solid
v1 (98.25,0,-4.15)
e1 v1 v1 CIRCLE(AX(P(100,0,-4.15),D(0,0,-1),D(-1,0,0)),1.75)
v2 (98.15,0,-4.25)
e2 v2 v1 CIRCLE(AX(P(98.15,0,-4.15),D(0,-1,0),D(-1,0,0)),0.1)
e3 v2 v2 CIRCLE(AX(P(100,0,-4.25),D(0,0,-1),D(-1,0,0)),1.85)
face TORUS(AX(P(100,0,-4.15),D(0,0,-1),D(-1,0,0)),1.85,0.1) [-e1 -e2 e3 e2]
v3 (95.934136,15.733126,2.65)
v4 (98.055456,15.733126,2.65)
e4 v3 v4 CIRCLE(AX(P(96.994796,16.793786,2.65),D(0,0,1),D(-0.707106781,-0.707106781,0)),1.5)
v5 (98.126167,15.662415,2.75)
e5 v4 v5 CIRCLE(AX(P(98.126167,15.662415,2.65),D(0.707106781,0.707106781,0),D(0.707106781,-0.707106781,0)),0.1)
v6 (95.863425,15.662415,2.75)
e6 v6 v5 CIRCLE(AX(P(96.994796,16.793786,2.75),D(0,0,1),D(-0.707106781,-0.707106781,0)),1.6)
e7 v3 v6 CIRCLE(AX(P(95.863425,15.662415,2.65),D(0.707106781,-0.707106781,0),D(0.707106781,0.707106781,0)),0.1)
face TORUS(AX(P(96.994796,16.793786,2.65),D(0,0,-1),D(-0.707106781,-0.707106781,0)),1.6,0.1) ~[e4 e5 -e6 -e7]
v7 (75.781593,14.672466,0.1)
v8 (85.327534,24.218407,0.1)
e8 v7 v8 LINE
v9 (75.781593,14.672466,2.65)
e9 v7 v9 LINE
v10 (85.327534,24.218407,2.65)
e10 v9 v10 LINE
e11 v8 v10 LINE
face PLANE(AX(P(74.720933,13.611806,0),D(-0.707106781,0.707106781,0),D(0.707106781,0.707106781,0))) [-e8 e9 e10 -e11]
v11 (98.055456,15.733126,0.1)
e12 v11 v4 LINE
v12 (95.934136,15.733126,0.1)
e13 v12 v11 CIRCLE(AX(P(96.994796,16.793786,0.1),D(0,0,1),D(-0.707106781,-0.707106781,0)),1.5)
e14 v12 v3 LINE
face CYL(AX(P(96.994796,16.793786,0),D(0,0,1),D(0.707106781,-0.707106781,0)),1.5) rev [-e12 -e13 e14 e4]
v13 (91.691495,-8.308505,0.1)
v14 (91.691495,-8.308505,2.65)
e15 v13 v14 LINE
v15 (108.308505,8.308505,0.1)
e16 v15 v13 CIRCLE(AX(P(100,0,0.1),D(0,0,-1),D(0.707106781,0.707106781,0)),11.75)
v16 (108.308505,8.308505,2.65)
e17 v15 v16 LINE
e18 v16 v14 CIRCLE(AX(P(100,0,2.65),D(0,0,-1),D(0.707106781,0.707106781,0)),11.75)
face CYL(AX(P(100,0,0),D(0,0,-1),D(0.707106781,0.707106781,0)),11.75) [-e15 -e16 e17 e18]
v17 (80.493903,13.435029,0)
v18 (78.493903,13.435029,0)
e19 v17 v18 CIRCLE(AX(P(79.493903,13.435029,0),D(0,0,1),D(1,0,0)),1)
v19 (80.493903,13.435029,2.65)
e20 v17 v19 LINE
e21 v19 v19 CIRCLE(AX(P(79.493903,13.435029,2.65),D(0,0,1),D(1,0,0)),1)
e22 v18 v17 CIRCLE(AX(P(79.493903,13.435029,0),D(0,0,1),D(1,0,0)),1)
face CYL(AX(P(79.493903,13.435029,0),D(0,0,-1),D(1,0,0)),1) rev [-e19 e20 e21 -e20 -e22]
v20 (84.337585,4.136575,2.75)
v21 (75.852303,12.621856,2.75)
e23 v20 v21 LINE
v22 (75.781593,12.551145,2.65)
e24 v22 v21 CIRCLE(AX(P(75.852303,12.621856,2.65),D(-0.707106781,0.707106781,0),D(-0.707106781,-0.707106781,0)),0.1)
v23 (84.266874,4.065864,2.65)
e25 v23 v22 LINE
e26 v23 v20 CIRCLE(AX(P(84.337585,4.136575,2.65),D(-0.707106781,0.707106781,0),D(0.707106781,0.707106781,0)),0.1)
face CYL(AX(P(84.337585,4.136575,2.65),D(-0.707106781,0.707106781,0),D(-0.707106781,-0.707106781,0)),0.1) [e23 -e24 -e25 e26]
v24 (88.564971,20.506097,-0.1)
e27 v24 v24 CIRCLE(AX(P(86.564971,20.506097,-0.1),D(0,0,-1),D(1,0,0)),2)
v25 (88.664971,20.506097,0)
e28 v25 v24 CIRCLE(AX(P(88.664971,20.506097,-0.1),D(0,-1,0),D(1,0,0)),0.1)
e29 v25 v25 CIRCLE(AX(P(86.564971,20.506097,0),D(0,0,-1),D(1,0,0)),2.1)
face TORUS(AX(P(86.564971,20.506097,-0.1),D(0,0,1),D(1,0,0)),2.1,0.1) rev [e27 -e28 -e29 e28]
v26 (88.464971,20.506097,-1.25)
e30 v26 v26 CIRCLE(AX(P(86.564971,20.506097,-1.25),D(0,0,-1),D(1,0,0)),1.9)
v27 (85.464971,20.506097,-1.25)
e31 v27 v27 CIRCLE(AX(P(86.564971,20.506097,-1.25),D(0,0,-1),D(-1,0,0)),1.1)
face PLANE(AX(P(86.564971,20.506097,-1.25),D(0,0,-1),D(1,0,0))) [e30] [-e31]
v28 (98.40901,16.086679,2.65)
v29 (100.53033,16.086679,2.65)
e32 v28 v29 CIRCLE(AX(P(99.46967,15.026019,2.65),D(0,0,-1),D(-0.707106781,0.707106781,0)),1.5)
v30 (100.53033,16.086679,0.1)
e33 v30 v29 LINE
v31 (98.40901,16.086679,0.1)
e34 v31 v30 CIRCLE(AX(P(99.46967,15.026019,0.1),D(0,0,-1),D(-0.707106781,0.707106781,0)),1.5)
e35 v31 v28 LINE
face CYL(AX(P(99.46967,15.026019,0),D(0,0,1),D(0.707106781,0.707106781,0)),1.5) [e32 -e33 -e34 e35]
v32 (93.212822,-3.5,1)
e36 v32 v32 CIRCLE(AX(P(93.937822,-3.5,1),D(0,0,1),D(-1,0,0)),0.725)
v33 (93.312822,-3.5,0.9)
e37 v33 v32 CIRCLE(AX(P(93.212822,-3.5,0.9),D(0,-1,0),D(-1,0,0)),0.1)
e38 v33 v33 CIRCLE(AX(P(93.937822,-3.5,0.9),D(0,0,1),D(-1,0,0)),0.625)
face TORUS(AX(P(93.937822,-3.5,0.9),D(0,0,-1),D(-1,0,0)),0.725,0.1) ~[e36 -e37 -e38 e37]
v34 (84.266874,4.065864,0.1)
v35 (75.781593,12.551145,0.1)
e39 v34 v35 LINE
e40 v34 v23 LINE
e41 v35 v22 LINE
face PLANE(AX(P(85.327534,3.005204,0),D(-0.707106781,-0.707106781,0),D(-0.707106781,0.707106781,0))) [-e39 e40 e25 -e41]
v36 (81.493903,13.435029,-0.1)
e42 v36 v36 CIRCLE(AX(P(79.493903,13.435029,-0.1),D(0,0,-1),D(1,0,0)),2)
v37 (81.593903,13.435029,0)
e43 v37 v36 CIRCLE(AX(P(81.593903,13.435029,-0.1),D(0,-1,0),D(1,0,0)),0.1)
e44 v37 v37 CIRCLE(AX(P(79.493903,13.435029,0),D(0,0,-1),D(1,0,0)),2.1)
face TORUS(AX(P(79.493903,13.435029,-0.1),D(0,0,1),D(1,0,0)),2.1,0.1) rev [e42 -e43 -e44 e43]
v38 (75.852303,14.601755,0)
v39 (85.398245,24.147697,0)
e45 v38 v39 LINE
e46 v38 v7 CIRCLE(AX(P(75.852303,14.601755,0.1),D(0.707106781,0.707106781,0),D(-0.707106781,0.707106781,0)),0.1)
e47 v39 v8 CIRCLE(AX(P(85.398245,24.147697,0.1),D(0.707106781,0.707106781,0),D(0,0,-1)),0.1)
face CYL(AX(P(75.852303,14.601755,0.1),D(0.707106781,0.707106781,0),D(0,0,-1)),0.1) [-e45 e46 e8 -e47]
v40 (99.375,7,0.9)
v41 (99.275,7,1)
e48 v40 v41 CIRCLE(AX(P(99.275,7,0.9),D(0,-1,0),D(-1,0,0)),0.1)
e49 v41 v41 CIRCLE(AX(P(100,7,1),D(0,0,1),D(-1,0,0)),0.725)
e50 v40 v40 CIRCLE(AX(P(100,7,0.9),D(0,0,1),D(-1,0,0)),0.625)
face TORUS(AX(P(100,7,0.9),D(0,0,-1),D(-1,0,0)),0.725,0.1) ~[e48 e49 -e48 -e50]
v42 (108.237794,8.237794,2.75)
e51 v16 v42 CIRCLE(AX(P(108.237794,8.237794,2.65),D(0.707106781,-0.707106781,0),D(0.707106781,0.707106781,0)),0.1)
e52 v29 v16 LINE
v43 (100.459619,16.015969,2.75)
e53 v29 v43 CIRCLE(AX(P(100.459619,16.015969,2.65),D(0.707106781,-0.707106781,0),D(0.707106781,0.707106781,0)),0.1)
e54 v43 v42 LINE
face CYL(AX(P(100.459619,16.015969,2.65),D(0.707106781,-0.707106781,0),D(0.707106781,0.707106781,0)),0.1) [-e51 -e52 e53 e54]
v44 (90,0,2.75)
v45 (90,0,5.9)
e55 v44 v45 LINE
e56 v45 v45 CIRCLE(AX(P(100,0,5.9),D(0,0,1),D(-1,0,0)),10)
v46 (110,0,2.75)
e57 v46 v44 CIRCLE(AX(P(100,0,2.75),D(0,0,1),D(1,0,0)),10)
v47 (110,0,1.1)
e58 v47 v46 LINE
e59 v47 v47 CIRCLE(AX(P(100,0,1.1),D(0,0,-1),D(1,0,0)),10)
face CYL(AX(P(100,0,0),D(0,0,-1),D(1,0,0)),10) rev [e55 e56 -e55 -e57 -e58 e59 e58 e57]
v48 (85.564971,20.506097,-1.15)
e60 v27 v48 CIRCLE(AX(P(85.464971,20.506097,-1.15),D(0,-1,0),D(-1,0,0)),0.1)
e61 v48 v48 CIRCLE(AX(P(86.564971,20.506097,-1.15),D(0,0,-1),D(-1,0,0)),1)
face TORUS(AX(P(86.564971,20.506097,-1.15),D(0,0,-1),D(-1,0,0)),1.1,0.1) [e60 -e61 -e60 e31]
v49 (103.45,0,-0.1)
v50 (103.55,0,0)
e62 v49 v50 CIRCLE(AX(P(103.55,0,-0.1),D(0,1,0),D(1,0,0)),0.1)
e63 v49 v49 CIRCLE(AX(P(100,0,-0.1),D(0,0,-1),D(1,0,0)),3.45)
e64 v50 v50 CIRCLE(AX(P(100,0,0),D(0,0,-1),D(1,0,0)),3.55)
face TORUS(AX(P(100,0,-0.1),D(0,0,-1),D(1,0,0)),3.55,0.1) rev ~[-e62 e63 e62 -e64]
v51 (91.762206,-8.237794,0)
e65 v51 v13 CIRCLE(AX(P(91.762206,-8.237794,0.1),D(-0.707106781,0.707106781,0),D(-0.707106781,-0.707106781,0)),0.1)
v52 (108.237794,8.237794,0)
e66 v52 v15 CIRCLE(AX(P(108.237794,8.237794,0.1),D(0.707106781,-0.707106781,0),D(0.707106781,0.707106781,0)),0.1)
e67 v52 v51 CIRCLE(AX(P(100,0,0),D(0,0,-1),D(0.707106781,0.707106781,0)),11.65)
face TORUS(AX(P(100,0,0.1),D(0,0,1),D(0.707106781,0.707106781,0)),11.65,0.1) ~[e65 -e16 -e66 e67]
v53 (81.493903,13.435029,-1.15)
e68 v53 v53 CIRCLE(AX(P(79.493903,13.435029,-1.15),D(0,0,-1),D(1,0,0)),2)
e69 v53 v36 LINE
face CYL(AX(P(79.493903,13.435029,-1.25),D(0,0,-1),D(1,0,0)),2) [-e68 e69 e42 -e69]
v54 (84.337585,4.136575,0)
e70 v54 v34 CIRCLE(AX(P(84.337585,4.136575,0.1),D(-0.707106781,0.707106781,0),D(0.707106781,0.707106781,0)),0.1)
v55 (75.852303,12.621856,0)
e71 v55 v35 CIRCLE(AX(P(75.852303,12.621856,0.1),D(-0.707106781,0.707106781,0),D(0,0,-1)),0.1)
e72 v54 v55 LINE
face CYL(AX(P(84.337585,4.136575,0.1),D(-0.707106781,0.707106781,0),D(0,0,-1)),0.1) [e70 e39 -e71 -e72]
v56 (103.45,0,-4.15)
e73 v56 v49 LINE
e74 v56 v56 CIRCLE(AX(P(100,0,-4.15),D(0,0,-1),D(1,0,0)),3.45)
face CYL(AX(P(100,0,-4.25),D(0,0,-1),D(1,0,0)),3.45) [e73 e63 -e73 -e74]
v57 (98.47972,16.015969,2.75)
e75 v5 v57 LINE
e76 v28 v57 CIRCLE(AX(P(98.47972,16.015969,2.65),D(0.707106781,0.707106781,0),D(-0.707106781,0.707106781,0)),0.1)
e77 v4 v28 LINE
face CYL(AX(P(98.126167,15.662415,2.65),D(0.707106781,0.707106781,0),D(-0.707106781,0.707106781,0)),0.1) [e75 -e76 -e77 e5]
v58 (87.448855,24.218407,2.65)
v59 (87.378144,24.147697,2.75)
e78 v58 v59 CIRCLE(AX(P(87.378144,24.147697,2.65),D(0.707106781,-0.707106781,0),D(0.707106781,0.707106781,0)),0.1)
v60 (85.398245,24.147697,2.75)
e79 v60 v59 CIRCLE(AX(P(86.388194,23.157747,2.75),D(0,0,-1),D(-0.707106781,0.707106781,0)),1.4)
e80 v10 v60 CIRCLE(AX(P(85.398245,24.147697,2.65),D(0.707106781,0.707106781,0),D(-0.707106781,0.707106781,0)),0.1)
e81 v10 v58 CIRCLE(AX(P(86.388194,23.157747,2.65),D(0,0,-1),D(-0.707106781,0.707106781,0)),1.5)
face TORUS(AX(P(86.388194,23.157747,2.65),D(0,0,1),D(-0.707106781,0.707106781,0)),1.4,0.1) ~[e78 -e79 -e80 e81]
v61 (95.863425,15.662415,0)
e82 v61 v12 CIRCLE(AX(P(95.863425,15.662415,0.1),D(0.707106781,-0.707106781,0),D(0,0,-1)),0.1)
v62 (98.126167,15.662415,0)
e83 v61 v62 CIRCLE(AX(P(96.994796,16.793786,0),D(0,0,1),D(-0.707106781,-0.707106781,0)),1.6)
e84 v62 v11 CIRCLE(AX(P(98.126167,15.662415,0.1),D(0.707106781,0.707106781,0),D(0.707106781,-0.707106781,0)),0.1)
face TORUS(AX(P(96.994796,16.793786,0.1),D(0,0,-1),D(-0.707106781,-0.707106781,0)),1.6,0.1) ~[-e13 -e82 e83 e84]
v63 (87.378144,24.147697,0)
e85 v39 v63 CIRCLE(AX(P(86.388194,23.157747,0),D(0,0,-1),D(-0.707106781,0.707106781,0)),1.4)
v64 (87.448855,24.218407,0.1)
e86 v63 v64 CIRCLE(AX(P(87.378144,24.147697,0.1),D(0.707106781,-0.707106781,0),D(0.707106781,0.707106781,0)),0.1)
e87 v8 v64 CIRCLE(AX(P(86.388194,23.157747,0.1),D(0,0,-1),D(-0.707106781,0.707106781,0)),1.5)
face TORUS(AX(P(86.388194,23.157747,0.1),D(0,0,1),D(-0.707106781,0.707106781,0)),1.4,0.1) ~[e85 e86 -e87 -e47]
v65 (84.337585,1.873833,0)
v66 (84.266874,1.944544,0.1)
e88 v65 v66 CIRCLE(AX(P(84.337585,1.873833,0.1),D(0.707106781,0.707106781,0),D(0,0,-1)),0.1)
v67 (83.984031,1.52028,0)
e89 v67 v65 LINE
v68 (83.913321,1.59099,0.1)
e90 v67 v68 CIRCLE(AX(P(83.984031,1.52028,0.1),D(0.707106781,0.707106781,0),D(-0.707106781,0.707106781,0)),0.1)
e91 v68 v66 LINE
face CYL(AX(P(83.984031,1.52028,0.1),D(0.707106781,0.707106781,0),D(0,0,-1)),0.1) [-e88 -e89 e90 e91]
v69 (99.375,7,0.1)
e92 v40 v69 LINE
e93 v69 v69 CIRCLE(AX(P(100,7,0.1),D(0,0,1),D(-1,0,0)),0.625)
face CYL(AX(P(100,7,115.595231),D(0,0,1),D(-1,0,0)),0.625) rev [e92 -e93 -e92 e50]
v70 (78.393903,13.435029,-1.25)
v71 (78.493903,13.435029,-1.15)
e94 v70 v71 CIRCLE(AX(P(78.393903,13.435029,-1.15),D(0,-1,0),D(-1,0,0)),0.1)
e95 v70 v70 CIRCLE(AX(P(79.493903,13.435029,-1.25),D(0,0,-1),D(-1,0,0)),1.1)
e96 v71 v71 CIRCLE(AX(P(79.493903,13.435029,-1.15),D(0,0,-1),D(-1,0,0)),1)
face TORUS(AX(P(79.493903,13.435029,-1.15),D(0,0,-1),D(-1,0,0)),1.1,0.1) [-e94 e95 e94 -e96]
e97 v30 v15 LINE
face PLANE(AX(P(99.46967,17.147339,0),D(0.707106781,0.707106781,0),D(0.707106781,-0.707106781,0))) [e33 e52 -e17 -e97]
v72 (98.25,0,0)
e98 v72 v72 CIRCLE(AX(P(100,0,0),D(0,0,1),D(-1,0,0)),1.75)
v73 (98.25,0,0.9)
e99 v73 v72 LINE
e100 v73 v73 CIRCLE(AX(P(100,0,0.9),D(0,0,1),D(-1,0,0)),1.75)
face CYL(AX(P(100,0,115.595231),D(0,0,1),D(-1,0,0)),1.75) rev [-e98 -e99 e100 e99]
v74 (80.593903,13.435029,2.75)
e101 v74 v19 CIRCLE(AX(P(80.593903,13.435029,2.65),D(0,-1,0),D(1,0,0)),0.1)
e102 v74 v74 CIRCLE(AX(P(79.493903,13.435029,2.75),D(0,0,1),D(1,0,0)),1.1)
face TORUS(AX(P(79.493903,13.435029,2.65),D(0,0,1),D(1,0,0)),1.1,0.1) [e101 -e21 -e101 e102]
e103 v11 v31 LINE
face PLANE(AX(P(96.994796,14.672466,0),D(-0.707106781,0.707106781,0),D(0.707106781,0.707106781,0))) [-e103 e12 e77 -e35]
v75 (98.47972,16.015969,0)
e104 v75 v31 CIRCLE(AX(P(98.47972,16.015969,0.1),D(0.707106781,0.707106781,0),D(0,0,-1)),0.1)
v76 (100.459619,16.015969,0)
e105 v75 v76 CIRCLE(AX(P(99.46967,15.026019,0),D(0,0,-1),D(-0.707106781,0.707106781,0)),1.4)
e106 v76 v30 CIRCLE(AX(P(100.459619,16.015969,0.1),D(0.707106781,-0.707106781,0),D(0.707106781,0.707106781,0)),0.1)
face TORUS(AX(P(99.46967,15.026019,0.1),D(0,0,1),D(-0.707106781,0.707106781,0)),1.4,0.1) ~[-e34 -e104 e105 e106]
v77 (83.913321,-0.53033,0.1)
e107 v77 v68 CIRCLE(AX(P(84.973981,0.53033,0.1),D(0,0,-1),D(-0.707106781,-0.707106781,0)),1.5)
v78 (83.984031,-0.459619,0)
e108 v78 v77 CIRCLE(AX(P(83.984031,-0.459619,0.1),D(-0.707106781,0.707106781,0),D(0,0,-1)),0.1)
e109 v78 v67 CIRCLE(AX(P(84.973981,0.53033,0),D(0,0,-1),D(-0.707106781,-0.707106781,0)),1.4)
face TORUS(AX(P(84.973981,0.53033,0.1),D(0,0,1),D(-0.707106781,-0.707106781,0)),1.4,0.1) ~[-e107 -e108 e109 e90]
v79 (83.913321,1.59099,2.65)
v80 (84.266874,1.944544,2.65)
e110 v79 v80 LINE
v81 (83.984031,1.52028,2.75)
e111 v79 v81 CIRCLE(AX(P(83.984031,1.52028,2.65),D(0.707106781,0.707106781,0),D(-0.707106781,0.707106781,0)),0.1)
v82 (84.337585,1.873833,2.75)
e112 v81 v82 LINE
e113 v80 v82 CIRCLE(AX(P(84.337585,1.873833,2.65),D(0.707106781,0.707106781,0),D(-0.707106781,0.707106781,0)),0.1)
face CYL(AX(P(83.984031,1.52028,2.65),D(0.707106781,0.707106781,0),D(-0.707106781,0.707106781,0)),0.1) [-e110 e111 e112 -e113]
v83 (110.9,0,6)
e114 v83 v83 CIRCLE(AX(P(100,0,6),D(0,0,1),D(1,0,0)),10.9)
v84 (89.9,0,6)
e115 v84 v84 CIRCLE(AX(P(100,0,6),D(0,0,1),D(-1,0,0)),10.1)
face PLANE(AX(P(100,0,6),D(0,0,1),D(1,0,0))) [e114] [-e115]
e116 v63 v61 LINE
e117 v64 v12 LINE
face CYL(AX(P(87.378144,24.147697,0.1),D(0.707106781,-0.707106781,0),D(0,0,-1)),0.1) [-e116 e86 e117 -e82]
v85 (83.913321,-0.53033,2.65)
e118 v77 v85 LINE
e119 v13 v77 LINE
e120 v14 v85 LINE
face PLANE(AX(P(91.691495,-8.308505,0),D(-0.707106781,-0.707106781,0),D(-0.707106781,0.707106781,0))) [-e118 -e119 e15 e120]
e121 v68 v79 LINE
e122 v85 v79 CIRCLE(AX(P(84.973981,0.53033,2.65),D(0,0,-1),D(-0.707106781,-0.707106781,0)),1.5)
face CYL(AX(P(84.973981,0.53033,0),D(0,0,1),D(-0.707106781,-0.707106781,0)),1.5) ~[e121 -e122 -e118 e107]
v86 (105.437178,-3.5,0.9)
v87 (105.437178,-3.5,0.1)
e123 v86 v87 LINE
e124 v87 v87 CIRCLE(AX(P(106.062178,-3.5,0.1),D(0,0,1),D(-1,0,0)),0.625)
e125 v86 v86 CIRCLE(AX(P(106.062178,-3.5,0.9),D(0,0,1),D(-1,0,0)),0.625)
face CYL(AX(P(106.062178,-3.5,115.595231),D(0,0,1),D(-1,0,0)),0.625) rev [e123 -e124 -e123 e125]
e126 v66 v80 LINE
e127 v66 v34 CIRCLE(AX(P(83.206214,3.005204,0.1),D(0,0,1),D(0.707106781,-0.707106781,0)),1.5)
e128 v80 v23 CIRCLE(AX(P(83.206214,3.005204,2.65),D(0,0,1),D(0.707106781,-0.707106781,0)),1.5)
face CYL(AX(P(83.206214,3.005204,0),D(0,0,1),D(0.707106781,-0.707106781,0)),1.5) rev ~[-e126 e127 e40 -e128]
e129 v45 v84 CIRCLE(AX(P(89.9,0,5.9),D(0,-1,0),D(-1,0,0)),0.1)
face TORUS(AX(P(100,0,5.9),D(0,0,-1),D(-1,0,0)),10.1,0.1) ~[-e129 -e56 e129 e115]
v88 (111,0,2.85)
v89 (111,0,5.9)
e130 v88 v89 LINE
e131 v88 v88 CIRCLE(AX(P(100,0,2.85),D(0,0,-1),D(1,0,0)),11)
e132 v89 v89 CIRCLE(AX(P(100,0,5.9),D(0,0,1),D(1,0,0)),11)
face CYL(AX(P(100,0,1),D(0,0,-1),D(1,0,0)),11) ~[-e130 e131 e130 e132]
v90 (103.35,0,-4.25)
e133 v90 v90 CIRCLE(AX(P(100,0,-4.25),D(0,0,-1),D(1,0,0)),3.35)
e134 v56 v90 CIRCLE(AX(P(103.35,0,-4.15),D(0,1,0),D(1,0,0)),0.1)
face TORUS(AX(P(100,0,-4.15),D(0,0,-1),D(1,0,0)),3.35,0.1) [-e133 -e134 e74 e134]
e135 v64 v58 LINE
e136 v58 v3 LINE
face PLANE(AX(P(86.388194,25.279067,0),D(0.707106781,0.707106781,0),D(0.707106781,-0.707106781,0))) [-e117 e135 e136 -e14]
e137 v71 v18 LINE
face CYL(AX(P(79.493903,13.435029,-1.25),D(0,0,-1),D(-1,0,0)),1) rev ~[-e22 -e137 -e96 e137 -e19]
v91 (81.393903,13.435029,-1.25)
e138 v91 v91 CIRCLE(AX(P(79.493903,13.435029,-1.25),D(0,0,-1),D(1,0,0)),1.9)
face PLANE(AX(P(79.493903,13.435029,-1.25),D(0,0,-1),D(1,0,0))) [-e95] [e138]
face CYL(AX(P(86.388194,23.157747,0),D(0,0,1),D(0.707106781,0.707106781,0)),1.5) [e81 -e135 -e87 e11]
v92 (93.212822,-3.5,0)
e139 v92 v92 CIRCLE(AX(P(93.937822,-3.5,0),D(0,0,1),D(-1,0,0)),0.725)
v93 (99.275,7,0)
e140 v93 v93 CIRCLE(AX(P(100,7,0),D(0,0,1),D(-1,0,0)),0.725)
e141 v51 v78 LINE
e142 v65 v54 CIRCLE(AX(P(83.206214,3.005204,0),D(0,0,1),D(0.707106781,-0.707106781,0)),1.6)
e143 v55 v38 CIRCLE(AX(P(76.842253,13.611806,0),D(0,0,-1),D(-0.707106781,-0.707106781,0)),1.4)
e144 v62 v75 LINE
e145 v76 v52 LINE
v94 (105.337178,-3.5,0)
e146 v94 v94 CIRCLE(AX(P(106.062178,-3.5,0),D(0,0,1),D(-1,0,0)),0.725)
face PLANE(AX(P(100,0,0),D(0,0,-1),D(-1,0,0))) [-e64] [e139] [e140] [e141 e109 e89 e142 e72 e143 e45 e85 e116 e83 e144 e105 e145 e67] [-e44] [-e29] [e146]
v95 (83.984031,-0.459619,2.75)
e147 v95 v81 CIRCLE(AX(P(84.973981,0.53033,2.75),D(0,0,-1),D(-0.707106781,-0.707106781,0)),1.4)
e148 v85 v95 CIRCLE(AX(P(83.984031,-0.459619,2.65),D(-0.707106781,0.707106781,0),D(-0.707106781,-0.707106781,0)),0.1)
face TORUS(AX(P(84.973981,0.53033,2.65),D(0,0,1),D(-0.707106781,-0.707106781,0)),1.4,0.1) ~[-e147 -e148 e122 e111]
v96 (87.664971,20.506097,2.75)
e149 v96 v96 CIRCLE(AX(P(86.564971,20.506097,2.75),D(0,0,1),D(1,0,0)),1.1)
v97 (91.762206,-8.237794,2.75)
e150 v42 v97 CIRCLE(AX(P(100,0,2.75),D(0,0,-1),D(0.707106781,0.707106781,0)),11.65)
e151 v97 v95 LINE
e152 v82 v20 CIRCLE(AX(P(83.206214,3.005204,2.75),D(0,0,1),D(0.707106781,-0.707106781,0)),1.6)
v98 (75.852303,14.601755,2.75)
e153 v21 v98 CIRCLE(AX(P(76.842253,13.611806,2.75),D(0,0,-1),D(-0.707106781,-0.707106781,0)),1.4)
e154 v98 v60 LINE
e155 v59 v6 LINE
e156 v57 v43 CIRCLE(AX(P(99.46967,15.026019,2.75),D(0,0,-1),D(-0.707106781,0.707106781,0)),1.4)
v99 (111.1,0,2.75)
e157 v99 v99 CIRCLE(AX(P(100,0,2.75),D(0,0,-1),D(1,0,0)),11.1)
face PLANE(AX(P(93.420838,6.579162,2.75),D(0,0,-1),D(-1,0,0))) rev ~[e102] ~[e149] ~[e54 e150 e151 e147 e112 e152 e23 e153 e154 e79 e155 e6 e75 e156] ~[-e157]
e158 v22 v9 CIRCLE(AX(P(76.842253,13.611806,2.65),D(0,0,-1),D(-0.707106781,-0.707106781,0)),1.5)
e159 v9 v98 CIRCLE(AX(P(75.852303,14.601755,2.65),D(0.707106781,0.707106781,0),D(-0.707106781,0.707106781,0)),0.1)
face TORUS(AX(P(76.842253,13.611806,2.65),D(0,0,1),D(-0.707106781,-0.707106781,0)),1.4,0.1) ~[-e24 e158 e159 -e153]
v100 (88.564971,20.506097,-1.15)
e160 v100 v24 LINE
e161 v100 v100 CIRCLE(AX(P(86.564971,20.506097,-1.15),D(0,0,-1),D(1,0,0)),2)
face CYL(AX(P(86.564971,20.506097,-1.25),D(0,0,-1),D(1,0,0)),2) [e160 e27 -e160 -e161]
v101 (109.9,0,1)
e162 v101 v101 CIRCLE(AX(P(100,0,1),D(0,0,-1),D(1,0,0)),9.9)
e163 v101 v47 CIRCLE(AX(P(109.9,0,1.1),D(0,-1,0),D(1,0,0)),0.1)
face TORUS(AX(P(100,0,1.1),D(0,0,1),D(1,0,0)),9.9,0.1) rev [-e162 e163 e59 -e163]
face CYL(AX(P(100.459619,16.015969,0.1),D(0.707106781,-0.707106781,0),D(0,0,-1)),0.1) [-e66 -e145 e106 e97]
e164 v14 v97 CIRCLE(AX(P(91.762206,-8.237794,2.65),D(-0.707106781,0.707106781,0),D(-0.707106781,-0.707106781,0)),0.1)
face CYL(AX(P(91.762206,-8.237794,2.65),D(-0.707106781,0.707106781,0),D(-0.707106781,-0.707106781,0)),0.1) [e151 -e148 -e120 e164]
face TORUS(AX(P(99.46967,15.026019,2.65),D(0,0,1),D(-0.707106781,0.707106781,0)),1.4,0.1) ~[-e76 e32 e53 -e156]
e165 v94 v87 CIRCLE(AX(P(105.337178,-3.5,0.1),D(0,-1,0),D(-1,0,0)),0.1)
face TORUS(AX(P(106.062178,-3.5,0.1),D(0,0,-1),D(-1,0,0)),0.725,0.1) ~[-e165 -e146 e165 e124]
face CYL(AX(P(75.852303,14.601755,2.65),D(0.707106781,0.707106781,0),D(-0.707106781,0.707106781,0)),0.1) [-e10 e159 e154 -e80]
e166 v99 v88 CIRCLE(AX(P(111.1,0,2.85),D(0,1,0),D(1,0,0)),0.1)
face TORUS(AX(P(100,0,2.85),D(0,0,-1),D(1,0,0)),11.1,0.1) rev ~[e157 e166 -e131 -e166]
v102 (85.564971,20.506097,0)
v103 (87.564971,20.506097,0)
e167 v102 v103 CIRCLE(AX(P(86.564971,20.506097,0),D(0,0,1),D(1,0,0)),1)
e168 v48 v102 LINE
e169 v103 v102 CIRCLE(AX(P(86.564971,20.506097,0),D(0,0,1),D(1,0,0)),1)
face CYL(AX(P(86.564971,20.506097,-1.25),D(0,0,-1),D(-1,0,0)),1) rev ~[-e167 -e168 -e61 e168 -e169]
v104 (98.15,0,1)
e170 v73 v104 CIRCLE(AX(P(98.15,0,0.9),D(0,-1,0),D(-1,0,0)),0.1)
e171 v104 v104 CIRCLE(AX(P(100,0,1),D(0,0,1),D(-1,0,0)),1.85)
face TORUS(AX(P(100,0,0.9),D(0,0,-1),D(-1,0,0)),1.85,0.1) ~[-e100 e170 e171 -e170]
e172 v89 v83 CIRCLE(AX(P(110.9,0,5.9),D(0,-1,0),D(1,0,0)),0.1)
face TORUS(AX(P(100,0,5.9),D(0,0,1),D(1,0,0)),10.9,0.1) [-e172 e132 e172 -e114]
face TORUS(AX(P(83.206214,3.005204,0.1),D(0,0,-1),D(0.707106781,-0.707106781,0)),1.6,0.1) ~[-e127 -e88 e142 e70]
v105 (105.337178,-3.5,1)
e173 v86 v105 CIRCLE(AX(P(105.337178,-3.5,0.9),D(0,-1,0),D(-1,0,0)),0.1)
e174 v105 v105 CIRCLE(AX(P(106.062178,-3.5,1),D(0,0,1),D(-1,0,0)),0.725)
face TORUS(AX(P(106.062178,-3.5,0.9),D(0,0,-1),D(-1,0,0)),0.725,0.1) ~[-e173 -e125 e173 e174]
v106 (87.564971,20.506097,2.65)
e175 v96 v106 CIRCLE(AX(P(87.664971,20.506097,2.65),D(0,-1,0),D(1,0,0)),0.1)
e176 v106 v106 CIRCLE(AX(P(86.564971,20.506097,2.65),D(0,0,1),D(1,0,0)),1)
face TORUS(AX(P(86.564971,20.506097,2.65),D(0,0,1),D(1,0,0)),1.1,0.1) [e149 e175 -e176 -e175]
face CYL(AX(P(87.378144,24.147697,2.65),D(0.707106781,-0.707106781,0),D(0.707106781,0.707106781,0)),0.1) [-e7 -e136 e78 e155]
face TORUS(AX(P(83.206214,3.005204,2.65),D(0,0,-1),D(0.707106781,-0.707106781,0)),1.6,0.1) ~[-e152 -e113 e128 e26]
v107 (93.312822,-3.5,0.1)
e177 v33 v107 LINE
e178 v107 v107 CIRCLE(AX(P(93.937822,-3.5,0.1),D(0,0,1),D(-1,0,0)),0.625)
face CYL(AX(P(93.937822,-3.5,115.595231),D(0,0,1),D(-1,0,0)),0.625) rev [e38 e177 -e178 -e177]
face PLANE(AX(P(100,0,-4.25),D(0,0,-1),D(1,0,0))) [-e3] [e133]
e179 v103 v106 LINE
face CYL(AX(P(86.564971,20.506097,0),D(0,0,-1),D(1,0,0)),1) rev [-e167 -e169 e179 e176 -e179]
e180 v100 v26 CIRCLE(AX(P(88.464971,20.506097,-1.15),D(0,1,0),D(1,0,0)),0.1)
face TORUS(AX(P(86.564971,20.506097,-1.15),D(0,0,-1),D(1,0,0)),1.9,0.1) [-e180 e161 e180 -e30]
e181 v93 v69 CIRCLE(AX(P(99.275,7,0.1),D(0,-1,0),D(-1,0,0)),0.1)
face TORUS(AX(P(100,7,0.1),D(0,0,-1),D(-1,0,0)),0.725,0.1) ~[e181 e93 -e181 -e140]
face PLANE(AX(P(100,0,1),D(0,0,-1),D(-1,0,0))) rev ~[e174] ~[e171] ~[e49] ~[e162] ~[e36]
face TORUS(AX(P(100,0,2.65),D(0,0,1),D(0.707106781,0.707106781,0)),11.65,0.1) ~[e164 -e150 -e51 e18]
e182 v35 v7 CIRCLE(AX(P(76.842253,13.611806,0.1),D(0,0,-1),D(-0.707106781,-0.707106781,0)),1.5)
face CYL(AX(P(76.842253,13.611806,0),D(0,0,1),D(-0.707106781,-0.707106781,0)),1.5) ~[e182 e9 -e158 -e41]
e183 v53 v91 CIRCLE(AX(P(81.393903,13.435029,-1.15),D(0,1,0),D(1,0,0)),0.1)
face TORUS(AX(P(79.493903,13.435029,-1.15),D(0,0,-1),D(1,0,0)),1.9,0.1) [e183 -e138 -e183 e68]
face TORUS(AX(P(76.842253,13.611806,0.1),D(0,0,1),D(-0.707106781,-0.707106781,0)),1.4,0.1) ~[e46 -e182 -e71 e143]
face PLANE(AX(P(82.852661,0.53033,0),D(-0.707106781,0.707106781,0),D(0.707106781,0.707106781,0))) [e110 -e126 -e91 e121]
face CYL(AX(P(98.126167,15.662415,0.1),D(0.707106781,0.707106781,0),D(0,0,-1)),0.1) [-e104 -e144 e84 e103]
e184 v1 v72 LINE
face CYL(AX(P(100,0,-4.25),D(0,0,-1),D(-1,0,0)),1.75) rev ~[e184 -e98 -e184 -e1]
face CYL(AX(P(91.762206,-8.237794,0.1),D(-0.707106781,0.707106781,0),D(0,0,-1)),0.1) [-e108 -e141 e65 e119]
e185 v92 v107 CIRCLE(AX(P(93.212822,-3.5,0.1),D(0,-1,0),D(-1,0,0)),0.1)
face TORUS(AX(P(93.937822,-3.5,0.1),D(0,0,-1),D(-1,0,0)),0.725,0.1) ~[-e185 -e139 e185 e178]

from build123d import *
from build123d.topology import SkipClean

# Parameters (mm, degrees)
SKETCH5_R               = 10
SKETCH5_R_2             = 1
BOSS_EXTRUDE1_DEPTH     = 2.75
SKETCH7_R               = 10
BOSS_EXTRUDE2_DEPTH     = 1
SKETCH8_R               = 11
SKETCH8_R_2             = 10
BOSS_EXTRUDE3_DEPTH     = 5
FILLET1_R               = 1.5
BOSS_EXTRUDE4_START     = 1.25
SKETCH9_R               = 2
SKETCH9_R_2             = 1
BOSS_EXTRUDE4_DEPTH     = 1.25
CUT_EXTRUDE1_DEPTH      = 115.595231102
CUT_EXTRUDE1_DEPTH_BACK = 115.595231102
SKETCH10_R              = 1.75
BOSS_EXTRUDE6_START     = 4.25
SKETCH12_R              = 3.45
SKETCH12_R_2            = 1.75
BOSS_EXTRUDE6_DEPTH     = 4.25
CUT_EXTRUDE2_DEPTH      = 115.595231102
CUT_EXTRUDE2_DEPTH_BACK = 115.595231102
SKETCH14_R              = 0.625
FILLET2_R               = 0.1


with BuildPart() as part:
    # Sketch5 → Boss-Extrude1 (new body)
    with BuildSketch(Plane.XY):
        with BuildLine():
            Line((74.720932573, 13.611805538), (86.388194462, 25.279067427))
            Line((86.388194462, 25.279067427), (96.99479618, 14.67246571))
            Line((96.99479618, 14.67246571), (99.469669914, 17.147339444))
            Line((99.469669914, 17.147339444), (108.308504679, 8.308504679))
            ThreePointArc((108.308504679, 8.308504679), (108.308504679, -8.308504679), (91.691495321, -8.308504679))
            Line((91.691495321, -8.308504679), (82.852660556, 0.530330086))
            Line((82.852660556, 0.530330086), (85.32753429, 3.00520382))
            Line((85.32753429, 3.00520382), (74.720932573, 13.611805538))
        make_face()
        with Locations((100, 0)):
            Circle(SKETCH5_R, mode=Mode.SUBTRACT)
        with Locations((86.564971157, 20.506096654)):
            Circle(SKETCH5_R_2, mode=Mode.SUBTRACT)
        with Locations((79.493903346, 13.435028843)):
            Circle(SKETCH5_R_2, mode=Mode.SUBTRACT)
    extrude(amount=BOSS_EXTRUDE1_DEPTH)

    # Sketch7 → Boss-Extrude2 (add)
    with BuildSketch(Plane(origin=(0, 0, 0), x_dir=(-1, 0, 0), z_dir=(0, 0, -1))):
        with Locations((-100, 0)):
            Circle(SKETCH7_R)
    extrude(amount=-BOSS_EXTRUDE2_DEPTH)

    # Sketch8 → Boss-Extrude3 (add)
    with BuildSketch(Plane.XY.offset(1)):
        with Locations((100, 0)):
            Circle(SKETCH8_R)
        with Locations(Location((100, 0, 0), (0, 0, 180))):
            Circle(SKETCH8_R_2, mode=Mode.SUBTRACT)
    extrude(amount=BOSS_EXTRUDE3_DEPTH)

    # Fillet1
    fillet1_edges = [part.edges().sort_by_distance(p)[0] for p in [
        (74.720932573, 13.611805538, 1.375),
        (86.388194462, 25.279067427, 1.375),
        (96.99479618, 14.67246571, 1.375),
        (99.469669914, 17.147339444, 1.375),
        (82.852660556, 0.530330086, 1.375),
        (85.32753429, 3.00520382, 1.375),
    ]]
    fillet(fillet1_edges, radius=FILLET1_R)

    # Sketch9 → Boss-Extrude4 (add)
    # profile 1 of 2: a face of its own
    with SkipClean():  # the faces are left unmerged after this step: merging them gives an invalid solid
        with BuildSketch(Plane(origin=(0, 0, 0), x_dir=(-1, 0, 0), z_dir=(0, 0, -1)).offset(BOSS_EXTRUDE4_START)):
            with Locations(Location((-86.564971157, 20.506096654, 0), (0, 0, 180))):
                Circle(SKETCH9_R)
            with Locations((-86.564971157, 20.506096654)):
                Circle(SKETCH9_R_2, mode=Mode.SUBTRACT)
        # profile 2 of 2: a face of its own
        with BuildSketch(Plane(origin=(0, 0, 0), x_dir=(-1, 0, 0), z_dir=(0, 0, -1)).offset(BOSS_EXTRUDE4_START)):
            with Locations(Location((-79.493903346, 13.435028843, 0), (0, 0, 180))):
                Circle(SKETCH9_R)
            with Locations((-79.493903346, 13.435028843)):
                Circle(SKETCH9_R_2, mode=Mode.SUBTRACT)
        extrude(amount=-BOSS_EXTRUDE4_DEPTH)

    # Sketch10 → Cut-Extrude1 (cut, two sides: drawn at the far end of the back side and taken through both)
    with SkipClean():  # the faces are left unmerged after this step: merging them gives an invalid solid
        with BuildSketch(Plane(origin=(0, 0, 0), x_dir=(-1, 0, 0), z_dir=(0, 0, -1)).offset(-CUT_EXTRUDE1_DEPTH_BACK)):
            with Locations((-100, 0)):
                Circle(SKETCH10_R)
        extrude(amount=CUT_EXTRUDE1_DEPTH + CUT_EXTRUDE1_DEPTH_BACK, mode=Mode.SUBTRACT)

    # Sketch12 → Boss-Extrude6 (add)
    with SkipClean():  # the faces are left unmerged after this step: merging them gives an invalid solid
        with BuildSketch(Plane(origin=(0, 0, 0), x_dir=(-1, 0, 0), z_dir=(0, 0, -1)).offset(BOSS_EXTRUDE6_START)):
            with Locations(Location((-100, 0, 0), (0, 0, 180))):
                Circle(SKETCH12_R)
            with Locations((-100, 0)):
                Circle(SKETCH12_R_2, mode=Mode.SUBTRACT)
        extrude(amount=-BOSS_EXTRUDE6_DEPTH)

    # Sketch14 → Cut-Extrude2 (cut, two sides: drawn at the far end of the back side and taken through both)
    with SkipClean():  # the faces are left unmerged after this step: merging them gives an invalid solid
        with BuildSketch(Plane(origin=(0, 0, 0), x_dir=(-1, 0, 0), z_dir=(0, 0, -1)).offset(-CUT_EXTRUDE2_DEPTH_BACK)):
            with Locations((-100, 7)):
                Circle(SKETCH14_R)
            with Locations((-93.937822174, -3.5)):
                Circle(SKETCH14_R)
            with Locations((-106.062177826, -3.5)):
                Circle(SKETCH14_R)
        extrude(amount=CUT_EXTRUDE2_DEPTH + CUT_EXTRUDE2_DEPTH_BACK, mode=Mode.SUBTRACT)

    # Fillet2
    fillet2_edges = [part.edges().sort_by_distance(p)[0] for p in [
        (77.493903346, 13.435028843, 0),
        (77.493903346, 13.435028843, -1.25),
        (108.308504679, -8.308504679, 0),
        (80.493903346, 13.435028843, -1.25),
        (101.75, 0, 1),
        (96.55, 0, 0),
        (96.55, 0, -4.25),
        (101.75, 0, -4.25),
        (100.625, 7, 1),
        (100.625, 7, 0),
        (94.562822174, -3.5, 1),
        (94.562822174, -3.5, 0),
        (106.687177826, -3.5, 1),
        (106.687177826, -3.5, 0),
        (108.308504679, -8.308504679, 2.75),
        (104.419417382, 12.197591975, 2.75),
        (85.564971157, 20.506096654, 2.75),
        (78.493903346, 13.435028843, 2.75),
        (90, 0, 1),
        (89, 0, 2.75),
        (89, 0, 6),
        (110, 0, 6),
        (80.024233431, 8.308504679, 0),
        (80.024233431, 8.308504679, 2.75),
        (80.554563517, 19.445436483, 0),
        (91.691495321, 19.975766569, 0),
        (98.232233047, 15.909902577, 0),
        (87.802408025, -4.419417382, 0),
        (84.090097423, 1.767766953, 0),
        (86.388194462, 24.657747084, 0),
        (83.4739809, 0.530330086, 0),
        (99.469669914, 16.5260191, 0),
        (75.342252916, 13.611805538, 0),
        (80.554563517, 19.445436483, 2.75),
        (84.090097423, 1.767766953, 2.75),
        (87.802408025, -4.419417382, 2.75),
        (98.232233047, 15.909902577, 2.75),
        (91.691495321, 19.975766569, 2.75),
        (86.388194462, 24.657747084, 2.75),
        (83.4739809, 0.530330086, 2.75),
        (99.469669914, 16.5260191, 2.75),
        (75.342252916, 13.611805538, 2.75),
        (96.99479618, 15.293786053, 0),
        (96.99479618, 15.293786053, 2.75),
        (84.706213947, 3.00520382, 0),
        (84.706213947, 3.00520382, 2.75),
        (84.564971157, 20.506096654, 0),
        (84.564971157, 20.506096654, -1.25),
        (87.564971157, 20.506096654, -1.25),
        (104.419417382, 12.197591975, 0),
    ]]
    fillet(fillet2_edges, radius=FILLET2_R)


solid = part.part
